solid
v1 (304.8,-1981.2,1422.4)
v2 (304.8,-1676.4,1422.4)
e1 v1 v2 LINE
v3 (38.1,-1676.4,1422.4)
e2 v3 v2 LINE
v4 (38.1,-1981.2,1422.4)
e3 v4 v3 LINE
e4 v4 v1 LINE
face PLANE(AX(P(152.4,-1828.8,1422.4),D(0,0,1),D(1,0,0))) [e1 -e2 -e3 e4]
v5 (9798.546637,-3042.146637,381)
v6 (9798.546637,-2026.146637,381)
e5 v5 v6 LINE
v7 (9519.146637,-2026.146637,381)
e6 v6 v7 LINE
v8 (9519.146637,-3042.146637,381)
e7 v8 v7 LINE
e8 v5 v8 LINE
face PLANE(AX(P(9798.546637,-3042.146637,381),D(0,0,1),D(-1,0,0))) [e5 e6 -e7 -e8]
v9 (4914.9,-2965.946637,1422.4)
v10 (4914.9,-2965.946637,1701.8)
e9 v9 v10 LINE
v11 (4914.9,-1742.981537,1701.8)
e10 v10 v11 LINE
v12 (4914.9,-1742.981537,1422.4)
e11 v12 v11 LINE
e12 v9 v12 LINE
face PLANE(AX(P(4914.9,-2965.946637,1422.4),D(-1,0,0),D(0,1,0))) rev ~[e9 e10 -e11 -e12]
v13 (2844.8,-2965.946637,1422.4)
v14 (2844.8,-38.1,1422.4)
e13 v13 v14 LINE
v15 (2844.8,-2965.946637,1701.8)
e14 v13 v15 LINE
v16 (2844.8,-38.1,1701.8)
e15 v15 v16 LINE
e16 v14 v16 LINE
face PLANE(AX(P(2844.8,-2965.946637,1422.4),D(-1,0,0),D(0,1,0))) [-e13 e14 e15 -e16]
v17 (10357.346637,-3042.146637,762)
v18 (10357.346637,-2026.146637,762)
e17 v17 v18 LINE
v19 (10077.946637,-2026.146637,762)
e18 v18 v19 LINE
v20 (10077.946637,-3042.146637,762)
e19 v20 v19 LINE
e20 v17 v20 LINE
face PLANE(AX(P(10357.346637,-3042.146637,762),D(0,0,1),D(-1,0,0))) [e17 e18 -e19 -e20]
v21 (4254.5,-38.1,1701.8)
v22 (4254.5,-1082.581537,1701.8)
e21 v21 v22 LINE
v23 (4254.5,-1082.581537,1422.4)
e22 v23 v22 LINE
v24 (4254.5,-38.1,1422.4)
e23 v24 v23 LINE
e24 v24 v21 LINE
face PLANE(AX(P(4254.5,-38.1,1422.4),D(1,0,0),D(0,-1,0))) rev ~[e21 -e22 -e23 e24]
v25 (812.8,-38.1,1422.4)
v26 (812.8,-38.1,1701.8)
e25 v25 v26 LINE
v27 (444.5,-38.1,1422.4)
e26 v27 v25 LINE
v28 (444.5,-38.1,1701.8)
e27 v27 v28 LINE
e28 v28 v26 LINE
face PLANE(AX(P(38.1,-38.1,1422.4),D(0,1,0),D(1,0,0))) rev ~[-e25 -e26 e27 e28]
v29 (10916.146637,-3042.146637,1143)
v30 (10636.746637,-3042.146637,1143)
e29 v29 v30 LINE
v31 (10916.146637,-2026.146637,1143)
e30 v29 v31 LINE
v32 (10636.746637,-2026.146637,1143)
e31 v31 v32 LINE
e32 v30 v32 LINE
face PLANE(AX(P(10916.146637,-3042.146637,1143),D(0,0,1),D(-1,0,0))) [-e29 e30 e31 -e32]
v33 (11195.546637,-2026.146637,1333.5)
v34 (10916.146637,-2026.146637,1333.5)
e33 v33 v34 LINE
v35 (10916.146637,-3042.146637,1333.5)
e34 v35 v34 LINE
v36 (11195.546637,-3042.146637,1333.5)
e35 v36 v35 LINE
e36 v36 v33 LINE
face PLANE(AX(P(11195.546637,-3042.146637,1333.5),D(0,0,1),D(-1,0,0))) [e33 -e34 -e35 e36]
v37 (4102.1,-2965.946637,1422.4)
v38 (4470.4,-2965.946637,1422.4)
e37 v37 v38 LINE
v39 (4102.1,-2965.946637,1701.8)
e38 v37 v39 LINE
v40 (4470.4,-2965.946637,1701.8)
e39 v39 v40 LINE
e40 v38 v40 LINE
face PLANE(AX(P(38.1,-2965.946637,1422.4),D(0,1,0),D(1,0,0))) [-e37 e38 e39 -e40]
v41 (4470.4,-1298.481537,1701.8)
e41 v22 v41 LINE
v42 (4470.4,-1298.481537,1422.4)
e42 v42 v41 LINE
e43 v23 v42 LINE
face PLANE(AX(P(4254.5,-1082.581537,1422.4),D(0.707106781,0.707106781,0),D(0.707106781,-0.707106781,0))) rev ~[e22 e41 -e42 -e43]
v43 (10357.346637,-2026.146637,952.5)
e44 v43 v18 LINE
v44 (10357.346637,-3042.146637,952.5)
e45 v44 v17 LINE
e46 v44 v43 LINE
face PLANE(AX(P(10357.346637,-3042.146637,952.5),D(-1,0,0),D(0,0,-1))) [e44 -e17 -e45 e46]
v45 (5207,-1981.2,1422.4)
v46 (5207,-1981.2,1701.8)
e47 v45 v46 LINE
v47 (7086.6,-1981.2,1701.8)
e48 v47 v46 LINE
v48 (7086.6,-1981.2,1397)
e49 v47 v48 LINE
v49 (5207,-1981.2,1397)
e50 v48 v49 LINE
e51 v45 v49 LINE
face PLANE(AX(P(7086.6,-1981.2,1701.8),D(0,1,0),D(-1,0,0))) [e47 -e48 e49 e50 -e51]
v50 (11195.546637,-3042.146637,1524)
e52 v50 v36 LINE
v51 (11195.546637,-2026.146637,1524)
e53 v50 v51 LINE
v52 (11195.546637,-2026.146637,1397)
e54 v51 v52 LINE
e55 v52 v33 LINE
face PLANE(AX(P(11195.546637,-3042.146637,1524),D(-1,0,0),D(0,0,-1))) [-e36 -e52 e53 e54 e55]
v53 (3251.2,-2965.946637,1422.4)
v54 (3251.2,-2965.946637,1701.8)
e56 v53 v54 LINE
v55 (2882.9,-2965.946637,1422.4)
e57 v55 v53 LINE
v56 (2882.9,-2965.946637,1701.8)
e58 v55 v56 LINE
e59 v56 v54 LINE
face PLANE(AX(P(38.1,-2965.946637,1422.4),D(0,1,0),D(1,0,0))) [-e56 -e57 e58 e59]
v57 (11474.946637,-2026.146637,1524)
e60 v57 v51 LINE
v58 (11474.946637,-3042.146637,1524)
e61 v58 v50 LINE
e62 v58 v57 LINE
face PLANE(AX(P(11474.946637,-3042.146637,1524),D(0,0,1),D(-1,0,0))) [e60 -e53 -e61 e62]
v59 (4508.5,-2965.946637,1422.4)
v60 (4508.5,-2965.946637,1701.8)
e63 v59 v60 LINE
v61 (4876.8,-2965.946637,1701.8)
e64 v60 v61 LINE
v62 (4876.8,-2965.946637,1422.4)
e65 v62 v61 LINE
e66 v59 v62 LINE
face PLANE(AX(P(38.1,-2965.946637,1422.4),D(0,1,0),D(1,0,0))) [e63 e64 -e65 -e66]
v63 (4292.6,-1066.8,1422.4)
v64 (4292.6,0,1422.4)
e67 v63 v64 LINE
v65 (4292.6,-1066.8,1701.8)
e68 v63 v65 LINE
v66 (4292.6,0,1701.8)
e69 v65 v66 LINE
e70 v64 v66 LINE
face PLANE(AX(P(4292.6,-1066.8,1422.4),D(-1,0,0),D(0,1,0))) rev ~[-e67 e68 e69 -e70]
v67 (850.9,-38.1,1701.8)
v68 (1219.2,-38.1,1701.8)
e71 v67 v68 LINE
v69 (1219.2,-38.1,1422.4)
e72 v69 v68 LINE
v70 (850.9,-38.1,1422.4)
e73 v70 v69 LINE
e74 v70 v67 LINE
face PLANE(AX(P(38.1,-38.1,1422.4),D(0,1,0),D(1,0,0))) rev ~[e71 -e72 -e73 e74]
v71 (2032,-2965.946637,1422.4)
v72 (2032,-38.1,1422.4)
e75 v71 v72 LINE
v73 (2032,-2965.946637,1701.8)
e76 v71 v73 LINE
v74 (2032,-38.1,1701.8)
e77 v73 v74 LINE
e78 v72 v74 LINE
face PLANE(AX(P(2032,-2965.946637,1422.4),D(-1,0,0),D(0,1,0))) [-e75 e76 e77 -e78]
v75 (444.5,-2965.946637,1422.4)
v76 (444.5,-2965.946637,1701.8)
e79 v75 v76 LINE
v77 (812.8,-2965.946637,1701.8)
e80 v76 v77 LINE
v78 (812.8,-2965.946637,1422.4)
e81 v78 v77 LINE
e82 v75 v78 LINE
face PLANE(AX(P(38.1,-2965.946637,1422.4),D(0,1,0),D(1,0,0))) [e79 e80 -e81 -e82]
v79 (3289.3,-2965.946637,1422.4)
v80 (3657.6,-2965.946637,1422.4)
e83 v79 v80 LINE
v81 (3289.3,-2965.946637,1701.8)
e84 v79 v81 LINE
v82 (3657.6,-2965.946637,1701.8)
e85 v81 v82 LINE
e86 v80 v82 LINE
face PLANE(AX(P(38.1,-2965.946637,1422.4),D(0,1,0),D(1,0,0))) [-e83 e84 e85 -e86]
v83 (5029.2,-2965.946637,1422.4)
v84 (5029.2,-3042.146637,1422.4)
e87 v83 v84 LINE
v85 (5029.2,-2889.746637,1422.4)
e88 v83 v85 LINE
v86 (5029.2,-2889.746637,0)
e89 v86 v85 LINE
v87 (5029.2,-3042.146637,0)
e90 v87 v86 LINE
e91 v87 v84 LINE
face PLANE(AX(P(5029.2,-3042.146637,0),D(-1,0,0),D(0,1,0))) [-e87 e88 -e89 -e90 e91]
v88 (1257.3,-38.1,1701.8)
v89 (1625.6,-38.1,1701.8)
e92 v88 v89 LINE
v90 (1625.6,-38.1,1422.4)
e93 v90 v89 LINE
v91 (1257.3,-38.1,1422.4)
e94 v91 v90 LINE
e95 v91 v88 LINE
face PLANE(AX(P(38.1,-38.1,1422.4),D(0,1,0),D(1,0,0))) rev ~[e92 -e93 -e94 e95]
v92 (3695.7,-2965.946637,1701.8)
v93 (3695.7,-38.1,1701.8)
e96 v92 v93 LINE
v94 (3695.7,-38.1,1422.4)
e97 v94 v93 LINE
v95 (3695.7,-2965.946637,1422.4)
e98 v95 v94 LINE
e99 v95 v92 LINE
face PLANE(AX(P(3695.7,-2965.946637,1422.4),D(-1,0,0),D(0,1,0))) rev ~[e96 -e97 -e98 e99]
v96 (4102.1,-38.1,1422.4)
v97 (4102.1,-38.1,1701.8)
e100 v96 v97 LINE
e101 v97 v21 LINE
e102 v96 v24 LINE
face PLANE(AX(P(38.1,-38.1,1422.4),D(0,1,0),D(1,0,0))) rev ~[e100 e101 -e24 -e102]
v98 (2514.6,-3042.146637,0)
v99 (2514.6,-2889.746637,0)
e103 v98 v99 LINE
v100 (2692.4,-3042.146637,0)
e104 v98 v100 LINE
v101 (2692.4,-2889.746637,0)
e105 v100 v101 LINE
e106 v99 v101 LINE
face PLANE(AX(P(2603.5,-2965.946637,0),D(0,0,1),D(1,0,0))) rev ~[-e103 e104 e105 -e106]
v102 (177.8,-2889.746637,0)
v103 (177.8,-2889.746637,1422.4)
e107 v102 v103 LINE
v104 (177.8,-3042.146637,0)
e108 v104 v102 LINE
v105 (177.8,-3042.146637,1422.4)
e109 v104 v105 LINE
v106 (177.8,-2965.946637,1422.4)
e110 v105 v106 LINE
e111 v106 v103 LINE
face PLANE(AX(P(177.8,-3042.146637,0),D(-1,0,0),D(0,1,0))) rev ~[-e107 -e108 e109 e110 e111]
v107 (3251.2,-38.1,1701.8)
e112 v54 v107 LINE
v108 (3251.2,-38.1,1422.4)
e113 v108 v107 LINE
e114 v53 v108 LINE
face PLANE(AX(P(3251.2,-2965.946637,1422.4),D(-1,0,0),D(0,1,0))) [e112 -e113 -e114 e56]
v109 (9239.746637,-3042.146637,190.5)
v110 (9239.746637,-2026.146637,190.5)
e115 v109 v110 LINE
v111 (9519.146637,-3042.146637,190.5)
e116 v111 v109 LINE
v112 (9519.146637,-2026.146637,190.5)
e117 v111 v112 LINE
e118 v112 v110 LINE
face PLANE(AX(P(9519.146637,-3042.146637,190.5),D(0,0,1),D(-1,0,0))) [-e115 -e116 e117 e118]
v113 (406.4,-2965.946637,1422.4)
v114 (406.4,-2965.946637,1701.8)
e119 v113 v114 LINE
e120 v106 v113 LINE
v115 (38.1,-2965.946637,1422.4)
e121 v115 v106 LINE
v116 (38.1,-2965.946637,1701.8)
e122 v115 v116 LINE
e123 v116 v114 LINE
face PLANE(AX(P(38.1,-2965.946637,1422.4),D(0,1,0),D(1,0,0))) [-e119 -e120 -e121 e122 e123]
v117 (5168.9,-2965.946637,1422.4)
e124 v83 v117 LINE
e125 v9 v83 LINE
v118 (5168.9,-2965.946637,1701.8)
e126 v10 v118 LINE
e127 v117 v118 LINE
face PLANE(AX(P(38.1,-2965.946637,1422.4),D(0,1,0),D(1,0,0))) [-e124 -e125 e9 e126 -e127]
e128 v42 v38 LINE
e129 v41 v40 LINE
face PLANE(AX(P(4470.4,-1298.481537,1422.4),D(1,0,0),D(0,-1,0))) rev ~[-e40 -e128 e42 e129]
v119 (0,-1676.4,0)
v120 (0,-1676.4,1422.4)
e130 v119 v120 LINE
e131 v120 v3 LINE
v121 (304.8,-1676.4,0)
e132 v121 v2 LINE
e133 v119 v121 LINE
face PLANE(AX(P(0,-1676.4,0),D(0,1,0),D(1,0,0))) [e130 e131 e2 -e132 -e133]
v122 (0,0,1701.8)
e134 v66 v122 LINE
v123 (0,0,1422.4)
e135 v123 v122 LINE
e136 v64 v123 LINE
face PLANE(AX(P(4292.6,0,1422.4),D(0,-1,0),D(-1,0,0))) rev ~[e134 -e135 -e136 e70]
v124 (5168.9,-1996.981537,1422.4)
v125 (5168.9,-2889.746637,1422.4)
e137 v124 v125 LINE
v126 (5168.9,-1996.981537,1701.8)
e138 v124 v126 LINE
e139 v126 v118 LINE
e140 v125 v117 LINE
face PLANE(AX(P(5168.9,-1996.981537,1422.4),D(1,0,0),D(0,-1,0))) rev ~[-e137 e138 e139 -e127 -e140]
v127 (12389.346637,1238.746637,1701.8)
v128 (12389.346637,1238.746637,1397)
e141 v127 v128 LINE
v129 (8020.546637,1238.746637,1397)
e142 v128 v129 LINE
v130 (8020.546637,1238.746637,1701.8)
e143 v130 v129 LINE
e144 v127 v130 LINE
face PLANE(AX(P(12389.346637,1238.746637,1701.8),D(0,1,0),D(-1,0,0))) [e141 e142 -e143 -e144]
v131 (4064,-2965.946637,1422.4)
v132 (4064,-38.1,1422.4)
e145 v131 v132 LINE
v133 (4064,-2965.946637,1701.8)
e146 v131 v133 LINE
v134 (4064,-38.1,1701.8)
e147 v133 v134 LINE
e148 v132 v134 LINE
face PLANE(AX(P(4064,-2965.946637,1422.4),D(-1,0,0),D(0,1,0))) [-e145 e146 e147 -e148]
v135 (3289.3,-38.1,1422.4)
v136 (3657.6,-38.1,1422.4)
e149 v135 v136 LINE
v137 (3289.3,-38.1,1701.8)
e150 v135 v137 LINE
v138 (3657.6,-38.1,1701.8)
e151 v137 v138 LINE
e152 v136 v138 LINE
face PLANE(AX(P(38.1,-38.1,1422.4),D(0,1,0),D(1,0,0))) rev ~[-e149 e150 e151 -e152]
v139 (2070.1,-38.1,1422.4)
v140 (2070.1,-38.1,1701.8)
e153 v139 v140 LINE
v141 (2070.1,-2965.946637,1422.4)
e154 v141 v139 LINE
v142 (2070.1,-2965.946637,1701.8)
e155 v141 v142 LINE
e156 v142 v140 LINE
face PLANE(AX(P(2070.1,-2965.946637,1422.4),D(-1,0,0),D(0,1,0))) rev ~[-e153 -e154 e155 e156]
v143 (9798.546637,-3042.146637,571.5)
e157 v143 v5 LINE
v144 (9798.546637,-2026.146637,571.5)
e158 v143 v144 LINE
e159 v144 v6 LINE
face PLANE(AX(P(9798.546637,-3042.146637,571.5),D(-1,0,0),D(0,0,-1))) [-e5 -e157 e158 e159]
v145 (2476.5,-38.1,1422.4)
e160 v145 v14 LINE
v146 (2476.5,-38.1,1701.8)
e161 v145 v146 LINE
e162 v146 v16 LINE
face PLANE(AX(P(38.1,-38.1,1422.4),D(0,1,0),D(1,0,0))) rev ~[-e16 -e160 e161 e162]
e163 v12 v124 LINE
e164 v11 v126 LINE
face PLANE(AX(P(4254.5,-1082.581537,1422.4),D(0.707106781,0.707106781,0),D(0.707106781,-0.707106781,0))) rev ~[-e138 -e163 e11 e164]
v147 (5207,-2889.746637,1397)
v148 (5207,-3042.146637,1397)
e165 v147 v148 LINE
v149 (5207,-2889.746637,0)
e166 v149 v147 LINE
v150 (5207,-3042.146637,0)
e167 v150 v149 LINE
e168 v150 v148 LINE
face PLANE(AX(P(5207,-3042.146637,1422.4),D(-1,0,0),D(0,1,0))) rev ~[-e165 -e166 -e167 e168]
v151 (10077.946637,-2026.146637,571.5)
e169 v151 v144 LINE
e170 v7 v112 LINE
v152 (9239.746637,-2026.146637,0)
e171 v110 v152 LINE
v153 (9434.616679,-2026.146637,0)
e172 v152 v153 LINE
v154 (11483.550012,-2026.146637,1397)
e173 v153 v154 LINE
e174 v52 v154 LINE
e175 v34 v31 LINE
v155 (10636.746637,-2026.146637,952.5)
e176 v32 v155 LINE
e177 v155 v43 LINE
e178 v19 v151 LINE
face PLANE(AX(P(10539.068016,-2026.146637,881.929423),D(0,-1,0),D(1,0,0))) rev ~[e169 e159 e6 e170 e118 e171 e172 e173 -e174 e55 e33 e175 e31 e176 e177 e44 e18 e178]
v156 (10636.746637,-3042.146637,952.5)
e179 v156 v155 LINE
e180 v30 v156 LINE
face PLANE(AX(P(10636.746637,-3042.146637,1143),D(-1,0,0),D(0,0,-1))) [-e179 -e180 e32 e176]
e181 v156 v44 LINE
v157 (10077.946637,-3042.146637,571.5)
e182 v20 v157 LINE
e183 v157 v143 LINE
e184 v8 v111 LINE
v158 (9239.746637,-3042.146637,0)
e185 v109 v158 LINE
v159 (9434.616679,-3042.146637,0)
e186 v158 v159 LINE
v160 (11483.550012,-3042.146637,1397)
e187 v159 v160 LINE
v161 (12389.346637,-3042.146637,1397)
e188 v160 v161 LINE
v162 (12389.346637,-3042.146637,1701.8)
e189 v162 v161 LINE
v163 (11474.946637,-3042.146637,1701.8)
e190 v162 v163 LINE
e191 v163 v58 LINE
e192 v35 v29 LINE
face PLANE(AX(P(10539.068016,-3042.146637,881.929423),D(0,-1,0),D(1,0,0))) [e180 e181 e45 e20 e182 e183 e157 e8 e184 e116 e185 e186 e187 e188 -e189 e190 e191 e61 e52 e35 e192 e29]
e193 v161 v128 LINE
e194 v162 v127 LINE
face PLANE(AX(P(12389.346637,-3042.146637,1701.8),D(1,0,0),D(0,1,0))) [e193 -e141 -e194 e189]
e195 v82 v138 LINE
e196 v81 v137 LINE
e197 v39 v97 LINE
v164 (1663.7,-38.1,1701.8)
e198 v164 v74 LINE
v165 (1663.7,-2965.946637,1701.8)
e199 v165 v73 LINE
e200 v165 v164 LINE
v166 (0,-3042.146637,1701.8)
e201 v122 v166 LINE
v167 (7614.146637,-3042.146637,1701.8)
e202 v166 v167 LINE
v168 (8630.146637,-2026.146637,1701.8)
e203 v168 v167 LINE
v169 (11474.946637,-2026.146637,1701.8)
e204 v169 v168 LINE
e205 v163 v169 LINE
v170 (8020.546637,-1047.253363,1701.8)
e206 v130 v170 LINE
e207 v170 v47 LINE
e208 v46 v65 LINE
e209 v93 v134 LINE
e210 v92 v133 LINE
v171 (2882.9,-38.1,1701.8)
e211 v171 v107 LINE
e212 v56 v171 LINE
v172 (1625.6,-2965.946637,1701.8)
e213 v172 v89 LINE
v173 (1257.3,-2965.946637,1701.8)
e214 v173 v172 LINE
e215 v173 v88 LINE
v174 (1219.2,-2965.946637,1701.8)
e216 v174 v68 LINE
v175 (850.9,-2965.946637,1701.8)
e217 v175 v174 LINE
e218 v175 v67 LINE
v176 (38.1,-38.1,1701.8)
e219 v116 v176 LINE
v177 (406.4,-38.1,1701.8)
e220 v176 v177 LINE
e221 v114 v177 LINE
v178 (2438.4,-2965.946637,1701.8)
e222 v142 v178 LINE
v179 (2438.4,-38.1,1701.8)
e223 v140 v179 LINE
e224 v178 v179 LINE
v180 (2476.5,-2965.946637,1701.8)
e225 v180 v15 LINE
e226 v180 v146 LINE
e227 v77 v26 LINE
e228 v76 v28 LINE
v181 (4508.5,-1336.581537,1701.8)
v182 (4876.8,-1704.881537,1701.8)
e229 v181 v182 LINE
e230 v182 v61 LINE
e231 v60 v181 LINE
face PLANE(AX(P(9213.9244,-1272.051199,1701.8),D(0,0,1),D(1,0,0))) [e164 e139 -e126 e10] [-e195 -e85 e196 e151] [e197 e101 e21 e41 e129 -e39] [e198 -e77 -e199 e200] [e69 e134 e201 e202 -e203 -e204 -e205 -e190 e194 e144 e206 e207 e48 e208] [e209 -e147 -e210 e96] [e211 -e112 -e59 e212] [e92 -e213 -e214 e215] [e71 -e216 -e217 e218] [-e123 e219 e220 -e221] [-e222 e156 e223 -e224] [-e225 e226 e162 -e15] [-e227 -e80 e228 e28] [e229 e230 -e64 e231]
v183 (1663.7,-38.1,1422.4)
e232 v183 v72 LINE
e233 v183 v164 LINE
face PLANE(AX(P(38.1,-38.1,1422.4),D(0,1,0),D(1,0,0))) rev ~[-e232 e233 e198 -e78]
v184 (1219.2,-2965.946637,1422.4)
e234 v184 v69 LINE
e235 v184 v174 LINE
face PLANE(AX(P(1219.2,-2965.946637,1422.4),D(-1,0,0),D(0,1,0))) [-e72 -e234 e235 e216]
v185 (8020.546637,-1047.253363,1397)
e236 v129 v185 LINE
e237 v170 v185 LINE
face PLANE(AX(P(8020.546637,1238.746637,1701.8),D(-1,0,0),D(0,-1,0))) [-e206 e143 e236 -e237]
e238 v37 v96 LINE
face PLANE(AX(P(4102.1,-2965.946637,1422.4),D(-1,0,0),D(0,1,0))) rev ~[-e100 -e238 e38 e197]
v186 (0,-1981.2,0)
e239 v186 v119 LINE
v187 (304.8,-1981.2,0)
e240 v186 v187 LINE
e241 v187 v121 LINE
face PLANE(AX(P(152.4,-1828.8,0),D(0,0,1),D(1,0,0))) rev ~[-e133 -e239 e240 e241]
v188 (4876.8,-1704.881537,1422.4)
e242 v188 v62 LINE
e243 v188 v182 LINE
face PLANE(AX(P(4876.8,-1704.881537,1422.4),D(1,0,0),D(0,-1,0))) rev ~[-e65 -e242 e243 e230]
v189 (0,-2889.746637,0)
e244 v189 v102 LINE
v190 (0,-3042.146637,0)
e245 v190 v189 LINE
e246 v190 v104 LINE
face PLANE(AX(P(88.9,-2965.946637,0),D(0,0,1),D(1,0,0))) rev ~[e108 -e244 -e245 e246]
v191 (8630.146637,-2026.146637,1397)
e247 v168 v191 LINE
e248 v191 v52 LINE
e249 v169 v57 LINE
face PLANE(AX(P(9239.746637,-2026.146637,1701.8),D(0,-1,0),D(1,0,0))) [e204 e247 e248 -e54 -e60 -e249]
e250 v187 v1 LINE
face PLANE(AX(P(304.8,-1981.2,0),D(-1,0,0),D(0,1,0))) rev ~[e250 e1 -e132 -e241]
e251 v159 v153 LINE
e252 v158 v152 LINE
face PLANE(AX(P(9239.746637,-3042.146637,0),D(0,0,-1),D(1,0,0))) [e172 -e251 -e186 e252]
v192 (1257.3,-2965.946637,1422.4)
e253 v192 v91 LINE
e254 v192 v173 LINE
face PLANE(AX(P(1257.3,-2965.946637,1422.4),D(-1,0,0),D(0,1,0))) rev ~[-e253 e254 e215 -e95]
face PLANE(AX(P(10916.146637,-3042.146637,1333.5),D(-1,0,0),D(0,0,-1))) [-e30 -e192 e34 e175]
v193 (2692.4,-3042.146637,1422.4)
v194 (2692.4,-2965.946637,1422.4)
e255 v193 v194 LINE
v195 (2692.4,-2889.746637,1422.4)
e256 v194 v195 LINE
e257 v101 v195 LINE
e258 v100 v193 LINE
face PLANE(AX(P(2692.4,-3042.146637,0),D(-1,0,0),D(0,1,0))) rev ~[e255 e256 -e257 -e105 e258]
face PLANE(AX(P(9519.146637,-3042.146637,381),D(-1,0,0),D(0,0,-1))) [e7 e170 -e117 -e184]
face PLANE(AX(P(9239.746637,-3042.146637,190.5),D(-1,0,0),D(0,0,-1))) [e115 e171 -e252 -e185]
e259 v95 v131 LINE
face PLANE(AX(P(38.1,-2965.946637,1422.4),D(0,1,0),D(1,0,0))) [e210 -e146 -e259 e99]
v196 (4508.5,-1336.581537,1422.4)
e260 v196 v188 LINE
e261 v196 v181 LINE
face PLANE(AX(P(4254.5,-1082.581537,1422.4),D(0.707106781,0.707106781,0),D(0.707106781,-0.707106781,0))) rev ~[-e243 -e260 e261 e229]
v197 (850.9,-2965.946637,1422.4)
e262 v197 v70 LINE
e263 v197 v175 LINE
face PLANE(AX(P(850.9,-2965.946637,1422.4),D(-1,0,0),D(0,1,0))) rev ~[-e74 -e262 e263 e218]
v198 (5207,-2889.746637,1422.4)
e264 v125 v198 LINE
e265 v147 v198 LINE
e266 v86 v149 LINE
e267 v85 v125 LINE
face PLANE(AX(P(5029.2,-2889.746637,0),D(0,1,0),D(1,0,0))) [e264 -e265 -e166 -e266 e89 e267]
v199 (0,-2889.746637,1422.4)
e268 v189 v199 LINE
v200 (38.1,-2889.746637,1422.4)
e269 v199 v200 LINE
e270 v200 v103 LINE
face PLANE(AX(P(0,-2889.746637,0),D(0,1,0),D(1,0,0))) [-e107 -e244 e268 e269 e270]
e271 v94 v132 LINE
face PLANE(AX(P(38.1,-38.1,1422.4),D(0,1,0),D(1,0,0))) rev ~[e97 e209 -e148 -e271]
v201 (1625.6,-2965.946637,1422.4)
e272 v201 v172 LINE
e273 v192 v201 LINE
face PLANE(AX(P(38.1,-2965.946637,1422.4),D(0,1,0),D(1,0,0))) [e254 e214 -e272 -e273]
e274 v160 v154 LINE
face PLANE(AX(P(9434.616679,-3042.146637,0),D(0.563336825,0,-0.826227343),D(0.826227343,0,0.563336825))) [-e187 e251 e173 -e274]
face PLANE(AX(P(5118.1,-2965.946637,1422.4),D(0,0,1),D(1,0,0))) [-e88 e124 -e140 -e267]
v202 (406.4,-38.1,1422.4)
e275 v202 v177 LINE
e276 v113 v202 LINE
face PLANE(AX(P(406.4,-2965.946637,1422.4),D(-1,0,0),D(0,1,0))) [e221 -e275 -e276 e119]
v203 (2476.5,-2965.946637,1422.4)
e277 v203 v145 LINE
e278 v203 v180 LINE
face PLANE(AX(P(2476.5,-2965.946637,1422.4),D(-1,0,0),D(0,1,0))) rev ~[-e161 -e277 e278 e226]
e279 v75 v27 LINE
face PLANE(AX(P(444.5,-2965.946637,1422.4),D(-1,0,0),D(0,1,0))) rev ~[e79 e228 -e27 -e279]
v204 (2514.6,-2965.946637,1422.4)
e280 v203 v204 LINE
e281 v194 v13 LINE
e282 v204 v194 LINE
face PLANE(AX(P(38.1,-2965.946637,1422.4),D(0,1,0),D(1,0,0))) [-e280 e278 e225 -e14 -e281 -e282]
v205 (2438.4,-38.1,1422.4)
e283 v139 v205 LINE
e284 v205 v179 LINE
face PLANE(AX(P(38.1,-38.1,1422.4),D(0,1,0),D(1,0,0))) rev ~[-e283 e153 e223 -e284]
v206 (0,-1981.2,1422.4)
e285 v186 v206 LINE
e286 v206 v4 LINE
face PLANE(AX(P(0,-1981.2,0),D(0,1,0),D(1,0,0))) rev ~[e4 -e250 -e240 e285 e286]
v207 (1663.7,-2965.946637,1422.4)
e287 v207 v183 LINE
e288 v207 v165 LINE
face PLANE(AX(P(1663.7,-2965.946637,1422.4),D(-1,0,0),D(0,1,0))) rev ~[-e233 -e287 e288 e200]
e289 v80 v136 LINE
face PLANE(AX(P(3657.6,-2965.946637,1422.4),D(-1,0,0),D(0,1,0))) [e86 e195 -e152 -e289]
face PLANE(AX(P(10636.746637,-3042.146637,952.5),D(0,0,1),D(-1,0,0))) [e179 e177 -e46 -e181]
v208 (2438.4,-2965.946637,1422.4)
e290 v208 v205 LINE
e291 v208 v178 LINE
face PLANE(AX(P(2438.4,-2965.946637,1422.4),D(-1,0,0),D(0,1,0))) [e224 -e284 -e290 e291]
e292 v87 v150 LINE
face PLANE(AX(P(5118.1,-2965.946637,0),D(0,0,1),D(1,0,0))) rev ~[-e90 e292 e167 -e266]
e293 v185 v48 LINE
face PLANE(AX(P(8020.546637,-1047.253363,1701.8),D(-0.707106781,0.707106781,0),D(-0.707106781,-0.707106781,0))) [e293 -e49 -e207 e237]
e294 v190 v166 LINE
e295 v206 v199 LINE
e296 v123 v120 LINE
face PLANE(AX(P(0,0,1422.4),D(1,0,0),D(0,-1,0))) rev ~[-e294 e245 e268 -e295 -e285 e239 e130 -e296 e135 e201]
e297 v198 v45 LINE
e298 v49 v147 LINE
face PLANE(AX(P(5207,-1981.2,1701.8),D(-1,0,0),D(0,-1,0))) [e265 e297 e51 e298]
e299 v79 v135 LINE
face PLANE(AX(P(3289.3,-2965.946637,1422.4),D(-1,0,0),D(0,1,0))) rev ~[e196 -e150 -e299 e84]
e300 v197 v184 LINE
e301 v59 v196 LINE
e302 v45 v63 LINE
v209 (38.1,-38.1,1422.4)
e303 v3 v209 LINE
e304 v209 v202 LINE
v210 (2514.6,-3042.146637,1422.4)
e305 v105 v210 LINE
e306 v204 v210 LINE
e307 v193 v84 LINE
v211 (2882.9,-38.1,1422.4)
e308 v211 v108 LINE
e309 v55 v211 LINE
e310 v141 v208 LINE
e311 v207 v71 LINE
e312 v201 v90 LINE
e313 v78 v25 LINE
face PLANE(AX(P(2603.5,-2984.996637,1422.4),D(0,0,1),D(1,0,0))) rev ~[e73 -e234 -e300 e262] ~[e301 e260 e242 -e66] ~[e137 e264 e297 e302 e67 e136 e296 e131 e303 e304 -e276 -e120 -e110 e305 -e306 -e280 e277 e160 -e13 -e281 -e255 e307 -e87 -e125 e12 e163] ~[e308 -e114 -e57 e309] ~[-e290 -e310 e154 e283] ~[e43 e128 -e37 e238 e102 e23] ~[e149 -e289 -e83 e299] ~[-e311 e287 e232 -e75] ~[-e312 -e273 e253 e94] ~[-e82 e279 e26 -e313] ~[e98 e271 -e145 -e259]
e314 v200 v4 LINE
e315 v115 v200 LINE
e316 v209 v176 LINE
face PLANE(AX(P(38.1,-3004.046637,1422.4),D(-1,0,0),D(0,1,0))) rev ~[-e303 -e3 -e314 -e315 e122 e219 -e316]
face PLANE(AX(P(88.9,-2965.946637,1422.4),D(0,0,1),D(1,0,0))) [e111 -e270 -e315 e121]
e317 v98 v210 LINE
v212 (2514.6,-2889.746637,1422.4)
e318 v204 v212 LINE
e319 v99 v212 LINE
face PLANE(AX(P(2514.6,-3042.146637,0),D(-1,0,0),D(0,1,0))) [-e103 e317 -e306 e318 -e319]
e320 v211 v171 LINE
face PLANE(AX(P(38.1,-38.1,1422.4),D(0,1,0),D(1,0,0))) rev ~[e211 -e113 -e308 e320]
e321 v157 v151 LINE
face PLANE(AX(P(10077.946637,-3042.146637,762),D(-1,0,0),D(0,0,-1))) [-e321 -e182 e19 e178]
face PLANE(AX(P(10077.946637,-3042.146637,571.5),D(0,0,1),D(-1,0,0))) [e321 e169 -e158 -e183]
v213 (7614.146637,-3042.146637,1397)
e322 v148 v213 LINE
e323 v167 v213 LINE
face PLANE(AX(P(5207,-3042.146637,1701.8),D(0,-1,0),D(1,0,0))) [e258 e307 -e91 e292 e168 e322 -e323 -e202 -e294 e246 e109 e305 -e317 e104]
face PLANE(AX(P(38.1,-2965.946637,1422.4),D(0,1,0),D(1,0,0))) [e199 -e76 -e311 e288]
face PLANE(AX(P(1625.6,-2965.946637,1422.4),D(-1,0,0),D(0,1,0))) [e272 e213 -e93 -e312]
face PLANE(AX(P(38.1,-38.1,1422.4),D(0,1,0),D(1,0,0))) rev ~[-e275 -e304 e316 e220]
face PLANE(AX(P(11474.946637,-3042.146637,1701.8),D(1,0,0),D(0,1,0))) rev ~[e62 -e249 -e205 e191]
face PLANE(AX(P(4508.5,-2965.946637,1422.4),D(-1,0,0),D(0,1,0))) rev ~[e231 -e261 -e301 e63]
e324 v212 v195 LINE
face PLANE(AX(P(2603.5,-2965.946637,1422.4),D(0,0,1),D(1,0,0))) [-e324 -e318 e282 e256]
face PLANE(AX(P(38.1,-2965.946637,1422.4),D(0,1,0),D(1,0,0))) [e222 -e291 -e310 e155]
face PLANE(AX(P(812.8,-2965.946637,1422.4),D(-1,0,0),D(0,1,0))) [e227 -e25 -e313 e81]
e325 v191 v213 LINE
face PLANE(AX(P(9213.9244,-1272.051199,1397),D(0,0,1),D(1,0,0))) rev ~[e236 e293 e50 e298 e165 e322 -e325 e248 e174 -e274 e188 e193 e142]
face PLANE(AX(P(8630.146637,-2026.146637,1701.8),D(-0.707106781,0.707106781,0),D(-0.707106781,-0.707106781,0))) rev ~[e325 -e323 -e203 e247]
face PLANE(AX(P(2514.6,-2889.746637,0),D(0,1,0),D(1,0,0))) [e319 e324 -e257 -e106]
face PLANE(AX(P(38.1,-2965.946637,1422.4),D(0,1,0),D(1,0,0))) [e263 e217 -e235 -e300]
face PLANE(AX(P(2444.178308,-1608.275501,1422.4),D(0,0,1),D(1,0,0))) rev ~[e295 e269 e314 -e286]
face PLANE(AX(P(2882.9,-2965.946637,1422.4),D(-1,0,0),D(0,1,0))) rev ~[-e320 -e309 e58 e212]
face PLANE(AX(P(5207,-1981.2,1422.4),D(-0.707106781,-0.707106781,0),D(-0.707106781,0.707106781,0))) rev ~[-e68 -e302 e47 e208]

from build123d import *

# Parameters (mm, degrees)
F0_W      = 304.8
F0_H      = 304.8
F1_DEPTH  = 1422.4
F0_W_2    = 177.8
F0_H_2    = 152.4
F3_DEPTH  = 279.4
F4_W      = 5130.8
F4_H      = 38.1
F5_DEPTH  = 279.4
F6_W      = 38.1
F6_H      = 2927.8466365912
F7_DEPTH  = 279.4
F9_DEPTH  = 304.8
F10_W     = 2235.2
F10_H     = 1016
F11_DEPTH = 1701.801
F13_DEPTH = 1016
F15_DEPTH = 304.8


with BuildPart() as f1:
    # F0 (on Top) → F1 (new body)
    with BuildSketch(Plane.XY):
        with Locations((152.4, -1828.8)):
            Rectangle(F0_W, F0_H)
    extrude(amount=F1_DEPTH)



with BuildPart() as f1b:
    # F0 (on Top) → F1, piece 2 (new body)
    with BuildSketch(Plane.XY):
        with Locations((88.9, -2965.9466365912)):
            Rectangle(F0_W_2, F0_H_2)
    extrude(amount=F1_DEPTH)


with BuildPart() as f1c:
    # F0 (on Top) → F1, piece 3 (new body)
    with BuildSketch(Plane.XY):
        with Locations((2603.5, -2965.9466365912)):
            Rectangle(F0_W_2, F0_H_2)
    extrude(amount=F1_DEPTH)


with BuildPart() as f1d:
    # F0 (on Top) → F1, piece 4 (new body)
    with BuildSketch(Plane.XY):
        with Locations((5118.1, -2965.9466365912)):
            Rectangle(F0_W_2, F0_H_2)
    extrude(amount=F1_DEPTH)


with BuildPart() as f1_1:
    add(f1.part)

    add(f1b.part)  # F3 merges F1b

    add(f1c.part)  # F3 merges F1c

    add(f1d.part)  # F3 merges F1d
    # F2 (on face) → F3 (join)
    with BuildSketch(Plane.XY.offset(1422.4)):
        Polygon((4292.6, 0), (0, 0), (0, -3042.1466365912), (5207, -3042.1466365912), (5207, -1981.2), (4292.6, -1066.8), align=None)
        Polygon((38.1, -38.1), (4254.5, -38.1), (4254.5, -1082.5815367264), (5168.9, -1996.9815367264), (5168.9, -3004.0466365912), (38.1, -3004.0466365912), align=None, mode=Mode.SUBTRACT)
    extrude(amount=F3_DEPTH)

    # F4 (on face) → F5 (join, through all)
    with BuildSketch(Plane.XY.offset(1422.4)):
        with Locations((2603.5, -2984.9966365912)):
            Rectangle(F4_W, F4_H)
    extrude(amount=F5_DEPTH)

    # F6 (on face) → F7 (join, through all)
    with BuildSketch(Plane.XY.offset(1422.4)):
        with Locations((425.45, -1502.0233182956)):
            Rectangle(F6_W, F6_H)
        with Locations((831.85, -1502.0233182956)):
            Rectangle(F6_W, F6_H)
        with Locations((1238.25, -1502.0233182956)):
            Rectangle(F6_W, F6_H)
        with Locations((1644.65, -1502.0233182956)):
            Rectangle(F6_W, F6_H)
        with Locations((2051.05, -1502.0233182956)):
            Rectangle(F6_W, F6_H)
        with Locations((2457.45, -1502.0233182956)):
            Rectangle(F6_W, F6_H)
        with Locations((2863.85, -1502.0233182956)):
            Rectangle(F6_W, F6_H)
        with Locations((3270.25, -1502.0233182956)):
            Rectangle(F6_W, F6_H)
        with Locations((3676.65, -1502.0233182956)):
            Rectangle(F6_W, F6_H)
        with Locations((4083.05, -1502.0233182956)):
            Rectangle(F6_W, F6_H)
        Polygon((4470.4, -1298.4815367264), (4470.4, -2965.9466365912), (4508.5, -2965.9466365912), (4508.5, -1336.5815367264), align=None)
        Polygon((4876.8, -1704.8815367264), (4876.8, -2965.9466365912), (4914.9, -2965.9466365912), (4914.9, -1742.9815367264), align=None)
    extrude(amount=F7_DEPTH)

    # F8 (on face) → F9 (join)
    with BuildSketch(Plane.XY.offset(1701.8)):
        Polygon((7086.6, -1981.2), (5207, -1981.2), (5207, -3042.1466365912), (12389.3466365912, -3042.1466365912), (12389.3466365912, 1238.7466365912), (8020.5466365912, 1238.7466365912), (8020.5466365912, -1047.2533634088), align=None)
    extrude(amount=-F9_DEPTH)

    # F10 (on face) → F11 (cut, through all)
    with BuildSketch(Plane.XY.offset(1701.8)):
        with Locations((10357.3466365912, -2534.1466365912)):
            Rectangle(F10_W, F10_H)
    extrude(amount=-F11_DEPTH, mode=Mode.SUBTRACT)

    # F12 (on face) → F13 (join, through all)
    with BuildSketch(Plane.XZ.offset(3042.1466365912)):
        Polygon((11474.9466365912, 1524), (11195.5466365912, 1524), (11195.5466365912, 1333.5), (10916.1466365912, 1333.5), (10916.1466365912, 1143), (10636.7466365912, 1143), (10636.7466365912, 952.5), (10357.3466365912, 952.5), (10357.3466365912, 762), (10077.9466365912, 762), (10077.9466365912, 571.5), (9798.5466365912, 571.5), (9798.5466365912, 381), (9519.1466365912, 381), (9519.1466365912, 190.5), (9239.7466365912, 190.5), (9239.7466365912, 0), (9434.6166791498, 0), (11930.5900124831, 1701.8), (11474.9466365912, 1701.8), align=None)
    extrude(amount=-F13_DEPTH)

    # F14 (on face) → F15 (cut, through all)
    with BuildSketch(Plane.XY.offset(1701.8)):
        Polygon((8630.1466365912, -3042.1466365912), (9239.7466365912, -3042.1466365912), (9239.7466365912, -2026.1466365912), (8630.1466365912, -2026.1466365912), (7614.1466365912, -3042.1466365912), align=None)
    extrude(amount=-F15_DEPTH, mode=Mode.SUBTRACT)


solid = f1_1.part
